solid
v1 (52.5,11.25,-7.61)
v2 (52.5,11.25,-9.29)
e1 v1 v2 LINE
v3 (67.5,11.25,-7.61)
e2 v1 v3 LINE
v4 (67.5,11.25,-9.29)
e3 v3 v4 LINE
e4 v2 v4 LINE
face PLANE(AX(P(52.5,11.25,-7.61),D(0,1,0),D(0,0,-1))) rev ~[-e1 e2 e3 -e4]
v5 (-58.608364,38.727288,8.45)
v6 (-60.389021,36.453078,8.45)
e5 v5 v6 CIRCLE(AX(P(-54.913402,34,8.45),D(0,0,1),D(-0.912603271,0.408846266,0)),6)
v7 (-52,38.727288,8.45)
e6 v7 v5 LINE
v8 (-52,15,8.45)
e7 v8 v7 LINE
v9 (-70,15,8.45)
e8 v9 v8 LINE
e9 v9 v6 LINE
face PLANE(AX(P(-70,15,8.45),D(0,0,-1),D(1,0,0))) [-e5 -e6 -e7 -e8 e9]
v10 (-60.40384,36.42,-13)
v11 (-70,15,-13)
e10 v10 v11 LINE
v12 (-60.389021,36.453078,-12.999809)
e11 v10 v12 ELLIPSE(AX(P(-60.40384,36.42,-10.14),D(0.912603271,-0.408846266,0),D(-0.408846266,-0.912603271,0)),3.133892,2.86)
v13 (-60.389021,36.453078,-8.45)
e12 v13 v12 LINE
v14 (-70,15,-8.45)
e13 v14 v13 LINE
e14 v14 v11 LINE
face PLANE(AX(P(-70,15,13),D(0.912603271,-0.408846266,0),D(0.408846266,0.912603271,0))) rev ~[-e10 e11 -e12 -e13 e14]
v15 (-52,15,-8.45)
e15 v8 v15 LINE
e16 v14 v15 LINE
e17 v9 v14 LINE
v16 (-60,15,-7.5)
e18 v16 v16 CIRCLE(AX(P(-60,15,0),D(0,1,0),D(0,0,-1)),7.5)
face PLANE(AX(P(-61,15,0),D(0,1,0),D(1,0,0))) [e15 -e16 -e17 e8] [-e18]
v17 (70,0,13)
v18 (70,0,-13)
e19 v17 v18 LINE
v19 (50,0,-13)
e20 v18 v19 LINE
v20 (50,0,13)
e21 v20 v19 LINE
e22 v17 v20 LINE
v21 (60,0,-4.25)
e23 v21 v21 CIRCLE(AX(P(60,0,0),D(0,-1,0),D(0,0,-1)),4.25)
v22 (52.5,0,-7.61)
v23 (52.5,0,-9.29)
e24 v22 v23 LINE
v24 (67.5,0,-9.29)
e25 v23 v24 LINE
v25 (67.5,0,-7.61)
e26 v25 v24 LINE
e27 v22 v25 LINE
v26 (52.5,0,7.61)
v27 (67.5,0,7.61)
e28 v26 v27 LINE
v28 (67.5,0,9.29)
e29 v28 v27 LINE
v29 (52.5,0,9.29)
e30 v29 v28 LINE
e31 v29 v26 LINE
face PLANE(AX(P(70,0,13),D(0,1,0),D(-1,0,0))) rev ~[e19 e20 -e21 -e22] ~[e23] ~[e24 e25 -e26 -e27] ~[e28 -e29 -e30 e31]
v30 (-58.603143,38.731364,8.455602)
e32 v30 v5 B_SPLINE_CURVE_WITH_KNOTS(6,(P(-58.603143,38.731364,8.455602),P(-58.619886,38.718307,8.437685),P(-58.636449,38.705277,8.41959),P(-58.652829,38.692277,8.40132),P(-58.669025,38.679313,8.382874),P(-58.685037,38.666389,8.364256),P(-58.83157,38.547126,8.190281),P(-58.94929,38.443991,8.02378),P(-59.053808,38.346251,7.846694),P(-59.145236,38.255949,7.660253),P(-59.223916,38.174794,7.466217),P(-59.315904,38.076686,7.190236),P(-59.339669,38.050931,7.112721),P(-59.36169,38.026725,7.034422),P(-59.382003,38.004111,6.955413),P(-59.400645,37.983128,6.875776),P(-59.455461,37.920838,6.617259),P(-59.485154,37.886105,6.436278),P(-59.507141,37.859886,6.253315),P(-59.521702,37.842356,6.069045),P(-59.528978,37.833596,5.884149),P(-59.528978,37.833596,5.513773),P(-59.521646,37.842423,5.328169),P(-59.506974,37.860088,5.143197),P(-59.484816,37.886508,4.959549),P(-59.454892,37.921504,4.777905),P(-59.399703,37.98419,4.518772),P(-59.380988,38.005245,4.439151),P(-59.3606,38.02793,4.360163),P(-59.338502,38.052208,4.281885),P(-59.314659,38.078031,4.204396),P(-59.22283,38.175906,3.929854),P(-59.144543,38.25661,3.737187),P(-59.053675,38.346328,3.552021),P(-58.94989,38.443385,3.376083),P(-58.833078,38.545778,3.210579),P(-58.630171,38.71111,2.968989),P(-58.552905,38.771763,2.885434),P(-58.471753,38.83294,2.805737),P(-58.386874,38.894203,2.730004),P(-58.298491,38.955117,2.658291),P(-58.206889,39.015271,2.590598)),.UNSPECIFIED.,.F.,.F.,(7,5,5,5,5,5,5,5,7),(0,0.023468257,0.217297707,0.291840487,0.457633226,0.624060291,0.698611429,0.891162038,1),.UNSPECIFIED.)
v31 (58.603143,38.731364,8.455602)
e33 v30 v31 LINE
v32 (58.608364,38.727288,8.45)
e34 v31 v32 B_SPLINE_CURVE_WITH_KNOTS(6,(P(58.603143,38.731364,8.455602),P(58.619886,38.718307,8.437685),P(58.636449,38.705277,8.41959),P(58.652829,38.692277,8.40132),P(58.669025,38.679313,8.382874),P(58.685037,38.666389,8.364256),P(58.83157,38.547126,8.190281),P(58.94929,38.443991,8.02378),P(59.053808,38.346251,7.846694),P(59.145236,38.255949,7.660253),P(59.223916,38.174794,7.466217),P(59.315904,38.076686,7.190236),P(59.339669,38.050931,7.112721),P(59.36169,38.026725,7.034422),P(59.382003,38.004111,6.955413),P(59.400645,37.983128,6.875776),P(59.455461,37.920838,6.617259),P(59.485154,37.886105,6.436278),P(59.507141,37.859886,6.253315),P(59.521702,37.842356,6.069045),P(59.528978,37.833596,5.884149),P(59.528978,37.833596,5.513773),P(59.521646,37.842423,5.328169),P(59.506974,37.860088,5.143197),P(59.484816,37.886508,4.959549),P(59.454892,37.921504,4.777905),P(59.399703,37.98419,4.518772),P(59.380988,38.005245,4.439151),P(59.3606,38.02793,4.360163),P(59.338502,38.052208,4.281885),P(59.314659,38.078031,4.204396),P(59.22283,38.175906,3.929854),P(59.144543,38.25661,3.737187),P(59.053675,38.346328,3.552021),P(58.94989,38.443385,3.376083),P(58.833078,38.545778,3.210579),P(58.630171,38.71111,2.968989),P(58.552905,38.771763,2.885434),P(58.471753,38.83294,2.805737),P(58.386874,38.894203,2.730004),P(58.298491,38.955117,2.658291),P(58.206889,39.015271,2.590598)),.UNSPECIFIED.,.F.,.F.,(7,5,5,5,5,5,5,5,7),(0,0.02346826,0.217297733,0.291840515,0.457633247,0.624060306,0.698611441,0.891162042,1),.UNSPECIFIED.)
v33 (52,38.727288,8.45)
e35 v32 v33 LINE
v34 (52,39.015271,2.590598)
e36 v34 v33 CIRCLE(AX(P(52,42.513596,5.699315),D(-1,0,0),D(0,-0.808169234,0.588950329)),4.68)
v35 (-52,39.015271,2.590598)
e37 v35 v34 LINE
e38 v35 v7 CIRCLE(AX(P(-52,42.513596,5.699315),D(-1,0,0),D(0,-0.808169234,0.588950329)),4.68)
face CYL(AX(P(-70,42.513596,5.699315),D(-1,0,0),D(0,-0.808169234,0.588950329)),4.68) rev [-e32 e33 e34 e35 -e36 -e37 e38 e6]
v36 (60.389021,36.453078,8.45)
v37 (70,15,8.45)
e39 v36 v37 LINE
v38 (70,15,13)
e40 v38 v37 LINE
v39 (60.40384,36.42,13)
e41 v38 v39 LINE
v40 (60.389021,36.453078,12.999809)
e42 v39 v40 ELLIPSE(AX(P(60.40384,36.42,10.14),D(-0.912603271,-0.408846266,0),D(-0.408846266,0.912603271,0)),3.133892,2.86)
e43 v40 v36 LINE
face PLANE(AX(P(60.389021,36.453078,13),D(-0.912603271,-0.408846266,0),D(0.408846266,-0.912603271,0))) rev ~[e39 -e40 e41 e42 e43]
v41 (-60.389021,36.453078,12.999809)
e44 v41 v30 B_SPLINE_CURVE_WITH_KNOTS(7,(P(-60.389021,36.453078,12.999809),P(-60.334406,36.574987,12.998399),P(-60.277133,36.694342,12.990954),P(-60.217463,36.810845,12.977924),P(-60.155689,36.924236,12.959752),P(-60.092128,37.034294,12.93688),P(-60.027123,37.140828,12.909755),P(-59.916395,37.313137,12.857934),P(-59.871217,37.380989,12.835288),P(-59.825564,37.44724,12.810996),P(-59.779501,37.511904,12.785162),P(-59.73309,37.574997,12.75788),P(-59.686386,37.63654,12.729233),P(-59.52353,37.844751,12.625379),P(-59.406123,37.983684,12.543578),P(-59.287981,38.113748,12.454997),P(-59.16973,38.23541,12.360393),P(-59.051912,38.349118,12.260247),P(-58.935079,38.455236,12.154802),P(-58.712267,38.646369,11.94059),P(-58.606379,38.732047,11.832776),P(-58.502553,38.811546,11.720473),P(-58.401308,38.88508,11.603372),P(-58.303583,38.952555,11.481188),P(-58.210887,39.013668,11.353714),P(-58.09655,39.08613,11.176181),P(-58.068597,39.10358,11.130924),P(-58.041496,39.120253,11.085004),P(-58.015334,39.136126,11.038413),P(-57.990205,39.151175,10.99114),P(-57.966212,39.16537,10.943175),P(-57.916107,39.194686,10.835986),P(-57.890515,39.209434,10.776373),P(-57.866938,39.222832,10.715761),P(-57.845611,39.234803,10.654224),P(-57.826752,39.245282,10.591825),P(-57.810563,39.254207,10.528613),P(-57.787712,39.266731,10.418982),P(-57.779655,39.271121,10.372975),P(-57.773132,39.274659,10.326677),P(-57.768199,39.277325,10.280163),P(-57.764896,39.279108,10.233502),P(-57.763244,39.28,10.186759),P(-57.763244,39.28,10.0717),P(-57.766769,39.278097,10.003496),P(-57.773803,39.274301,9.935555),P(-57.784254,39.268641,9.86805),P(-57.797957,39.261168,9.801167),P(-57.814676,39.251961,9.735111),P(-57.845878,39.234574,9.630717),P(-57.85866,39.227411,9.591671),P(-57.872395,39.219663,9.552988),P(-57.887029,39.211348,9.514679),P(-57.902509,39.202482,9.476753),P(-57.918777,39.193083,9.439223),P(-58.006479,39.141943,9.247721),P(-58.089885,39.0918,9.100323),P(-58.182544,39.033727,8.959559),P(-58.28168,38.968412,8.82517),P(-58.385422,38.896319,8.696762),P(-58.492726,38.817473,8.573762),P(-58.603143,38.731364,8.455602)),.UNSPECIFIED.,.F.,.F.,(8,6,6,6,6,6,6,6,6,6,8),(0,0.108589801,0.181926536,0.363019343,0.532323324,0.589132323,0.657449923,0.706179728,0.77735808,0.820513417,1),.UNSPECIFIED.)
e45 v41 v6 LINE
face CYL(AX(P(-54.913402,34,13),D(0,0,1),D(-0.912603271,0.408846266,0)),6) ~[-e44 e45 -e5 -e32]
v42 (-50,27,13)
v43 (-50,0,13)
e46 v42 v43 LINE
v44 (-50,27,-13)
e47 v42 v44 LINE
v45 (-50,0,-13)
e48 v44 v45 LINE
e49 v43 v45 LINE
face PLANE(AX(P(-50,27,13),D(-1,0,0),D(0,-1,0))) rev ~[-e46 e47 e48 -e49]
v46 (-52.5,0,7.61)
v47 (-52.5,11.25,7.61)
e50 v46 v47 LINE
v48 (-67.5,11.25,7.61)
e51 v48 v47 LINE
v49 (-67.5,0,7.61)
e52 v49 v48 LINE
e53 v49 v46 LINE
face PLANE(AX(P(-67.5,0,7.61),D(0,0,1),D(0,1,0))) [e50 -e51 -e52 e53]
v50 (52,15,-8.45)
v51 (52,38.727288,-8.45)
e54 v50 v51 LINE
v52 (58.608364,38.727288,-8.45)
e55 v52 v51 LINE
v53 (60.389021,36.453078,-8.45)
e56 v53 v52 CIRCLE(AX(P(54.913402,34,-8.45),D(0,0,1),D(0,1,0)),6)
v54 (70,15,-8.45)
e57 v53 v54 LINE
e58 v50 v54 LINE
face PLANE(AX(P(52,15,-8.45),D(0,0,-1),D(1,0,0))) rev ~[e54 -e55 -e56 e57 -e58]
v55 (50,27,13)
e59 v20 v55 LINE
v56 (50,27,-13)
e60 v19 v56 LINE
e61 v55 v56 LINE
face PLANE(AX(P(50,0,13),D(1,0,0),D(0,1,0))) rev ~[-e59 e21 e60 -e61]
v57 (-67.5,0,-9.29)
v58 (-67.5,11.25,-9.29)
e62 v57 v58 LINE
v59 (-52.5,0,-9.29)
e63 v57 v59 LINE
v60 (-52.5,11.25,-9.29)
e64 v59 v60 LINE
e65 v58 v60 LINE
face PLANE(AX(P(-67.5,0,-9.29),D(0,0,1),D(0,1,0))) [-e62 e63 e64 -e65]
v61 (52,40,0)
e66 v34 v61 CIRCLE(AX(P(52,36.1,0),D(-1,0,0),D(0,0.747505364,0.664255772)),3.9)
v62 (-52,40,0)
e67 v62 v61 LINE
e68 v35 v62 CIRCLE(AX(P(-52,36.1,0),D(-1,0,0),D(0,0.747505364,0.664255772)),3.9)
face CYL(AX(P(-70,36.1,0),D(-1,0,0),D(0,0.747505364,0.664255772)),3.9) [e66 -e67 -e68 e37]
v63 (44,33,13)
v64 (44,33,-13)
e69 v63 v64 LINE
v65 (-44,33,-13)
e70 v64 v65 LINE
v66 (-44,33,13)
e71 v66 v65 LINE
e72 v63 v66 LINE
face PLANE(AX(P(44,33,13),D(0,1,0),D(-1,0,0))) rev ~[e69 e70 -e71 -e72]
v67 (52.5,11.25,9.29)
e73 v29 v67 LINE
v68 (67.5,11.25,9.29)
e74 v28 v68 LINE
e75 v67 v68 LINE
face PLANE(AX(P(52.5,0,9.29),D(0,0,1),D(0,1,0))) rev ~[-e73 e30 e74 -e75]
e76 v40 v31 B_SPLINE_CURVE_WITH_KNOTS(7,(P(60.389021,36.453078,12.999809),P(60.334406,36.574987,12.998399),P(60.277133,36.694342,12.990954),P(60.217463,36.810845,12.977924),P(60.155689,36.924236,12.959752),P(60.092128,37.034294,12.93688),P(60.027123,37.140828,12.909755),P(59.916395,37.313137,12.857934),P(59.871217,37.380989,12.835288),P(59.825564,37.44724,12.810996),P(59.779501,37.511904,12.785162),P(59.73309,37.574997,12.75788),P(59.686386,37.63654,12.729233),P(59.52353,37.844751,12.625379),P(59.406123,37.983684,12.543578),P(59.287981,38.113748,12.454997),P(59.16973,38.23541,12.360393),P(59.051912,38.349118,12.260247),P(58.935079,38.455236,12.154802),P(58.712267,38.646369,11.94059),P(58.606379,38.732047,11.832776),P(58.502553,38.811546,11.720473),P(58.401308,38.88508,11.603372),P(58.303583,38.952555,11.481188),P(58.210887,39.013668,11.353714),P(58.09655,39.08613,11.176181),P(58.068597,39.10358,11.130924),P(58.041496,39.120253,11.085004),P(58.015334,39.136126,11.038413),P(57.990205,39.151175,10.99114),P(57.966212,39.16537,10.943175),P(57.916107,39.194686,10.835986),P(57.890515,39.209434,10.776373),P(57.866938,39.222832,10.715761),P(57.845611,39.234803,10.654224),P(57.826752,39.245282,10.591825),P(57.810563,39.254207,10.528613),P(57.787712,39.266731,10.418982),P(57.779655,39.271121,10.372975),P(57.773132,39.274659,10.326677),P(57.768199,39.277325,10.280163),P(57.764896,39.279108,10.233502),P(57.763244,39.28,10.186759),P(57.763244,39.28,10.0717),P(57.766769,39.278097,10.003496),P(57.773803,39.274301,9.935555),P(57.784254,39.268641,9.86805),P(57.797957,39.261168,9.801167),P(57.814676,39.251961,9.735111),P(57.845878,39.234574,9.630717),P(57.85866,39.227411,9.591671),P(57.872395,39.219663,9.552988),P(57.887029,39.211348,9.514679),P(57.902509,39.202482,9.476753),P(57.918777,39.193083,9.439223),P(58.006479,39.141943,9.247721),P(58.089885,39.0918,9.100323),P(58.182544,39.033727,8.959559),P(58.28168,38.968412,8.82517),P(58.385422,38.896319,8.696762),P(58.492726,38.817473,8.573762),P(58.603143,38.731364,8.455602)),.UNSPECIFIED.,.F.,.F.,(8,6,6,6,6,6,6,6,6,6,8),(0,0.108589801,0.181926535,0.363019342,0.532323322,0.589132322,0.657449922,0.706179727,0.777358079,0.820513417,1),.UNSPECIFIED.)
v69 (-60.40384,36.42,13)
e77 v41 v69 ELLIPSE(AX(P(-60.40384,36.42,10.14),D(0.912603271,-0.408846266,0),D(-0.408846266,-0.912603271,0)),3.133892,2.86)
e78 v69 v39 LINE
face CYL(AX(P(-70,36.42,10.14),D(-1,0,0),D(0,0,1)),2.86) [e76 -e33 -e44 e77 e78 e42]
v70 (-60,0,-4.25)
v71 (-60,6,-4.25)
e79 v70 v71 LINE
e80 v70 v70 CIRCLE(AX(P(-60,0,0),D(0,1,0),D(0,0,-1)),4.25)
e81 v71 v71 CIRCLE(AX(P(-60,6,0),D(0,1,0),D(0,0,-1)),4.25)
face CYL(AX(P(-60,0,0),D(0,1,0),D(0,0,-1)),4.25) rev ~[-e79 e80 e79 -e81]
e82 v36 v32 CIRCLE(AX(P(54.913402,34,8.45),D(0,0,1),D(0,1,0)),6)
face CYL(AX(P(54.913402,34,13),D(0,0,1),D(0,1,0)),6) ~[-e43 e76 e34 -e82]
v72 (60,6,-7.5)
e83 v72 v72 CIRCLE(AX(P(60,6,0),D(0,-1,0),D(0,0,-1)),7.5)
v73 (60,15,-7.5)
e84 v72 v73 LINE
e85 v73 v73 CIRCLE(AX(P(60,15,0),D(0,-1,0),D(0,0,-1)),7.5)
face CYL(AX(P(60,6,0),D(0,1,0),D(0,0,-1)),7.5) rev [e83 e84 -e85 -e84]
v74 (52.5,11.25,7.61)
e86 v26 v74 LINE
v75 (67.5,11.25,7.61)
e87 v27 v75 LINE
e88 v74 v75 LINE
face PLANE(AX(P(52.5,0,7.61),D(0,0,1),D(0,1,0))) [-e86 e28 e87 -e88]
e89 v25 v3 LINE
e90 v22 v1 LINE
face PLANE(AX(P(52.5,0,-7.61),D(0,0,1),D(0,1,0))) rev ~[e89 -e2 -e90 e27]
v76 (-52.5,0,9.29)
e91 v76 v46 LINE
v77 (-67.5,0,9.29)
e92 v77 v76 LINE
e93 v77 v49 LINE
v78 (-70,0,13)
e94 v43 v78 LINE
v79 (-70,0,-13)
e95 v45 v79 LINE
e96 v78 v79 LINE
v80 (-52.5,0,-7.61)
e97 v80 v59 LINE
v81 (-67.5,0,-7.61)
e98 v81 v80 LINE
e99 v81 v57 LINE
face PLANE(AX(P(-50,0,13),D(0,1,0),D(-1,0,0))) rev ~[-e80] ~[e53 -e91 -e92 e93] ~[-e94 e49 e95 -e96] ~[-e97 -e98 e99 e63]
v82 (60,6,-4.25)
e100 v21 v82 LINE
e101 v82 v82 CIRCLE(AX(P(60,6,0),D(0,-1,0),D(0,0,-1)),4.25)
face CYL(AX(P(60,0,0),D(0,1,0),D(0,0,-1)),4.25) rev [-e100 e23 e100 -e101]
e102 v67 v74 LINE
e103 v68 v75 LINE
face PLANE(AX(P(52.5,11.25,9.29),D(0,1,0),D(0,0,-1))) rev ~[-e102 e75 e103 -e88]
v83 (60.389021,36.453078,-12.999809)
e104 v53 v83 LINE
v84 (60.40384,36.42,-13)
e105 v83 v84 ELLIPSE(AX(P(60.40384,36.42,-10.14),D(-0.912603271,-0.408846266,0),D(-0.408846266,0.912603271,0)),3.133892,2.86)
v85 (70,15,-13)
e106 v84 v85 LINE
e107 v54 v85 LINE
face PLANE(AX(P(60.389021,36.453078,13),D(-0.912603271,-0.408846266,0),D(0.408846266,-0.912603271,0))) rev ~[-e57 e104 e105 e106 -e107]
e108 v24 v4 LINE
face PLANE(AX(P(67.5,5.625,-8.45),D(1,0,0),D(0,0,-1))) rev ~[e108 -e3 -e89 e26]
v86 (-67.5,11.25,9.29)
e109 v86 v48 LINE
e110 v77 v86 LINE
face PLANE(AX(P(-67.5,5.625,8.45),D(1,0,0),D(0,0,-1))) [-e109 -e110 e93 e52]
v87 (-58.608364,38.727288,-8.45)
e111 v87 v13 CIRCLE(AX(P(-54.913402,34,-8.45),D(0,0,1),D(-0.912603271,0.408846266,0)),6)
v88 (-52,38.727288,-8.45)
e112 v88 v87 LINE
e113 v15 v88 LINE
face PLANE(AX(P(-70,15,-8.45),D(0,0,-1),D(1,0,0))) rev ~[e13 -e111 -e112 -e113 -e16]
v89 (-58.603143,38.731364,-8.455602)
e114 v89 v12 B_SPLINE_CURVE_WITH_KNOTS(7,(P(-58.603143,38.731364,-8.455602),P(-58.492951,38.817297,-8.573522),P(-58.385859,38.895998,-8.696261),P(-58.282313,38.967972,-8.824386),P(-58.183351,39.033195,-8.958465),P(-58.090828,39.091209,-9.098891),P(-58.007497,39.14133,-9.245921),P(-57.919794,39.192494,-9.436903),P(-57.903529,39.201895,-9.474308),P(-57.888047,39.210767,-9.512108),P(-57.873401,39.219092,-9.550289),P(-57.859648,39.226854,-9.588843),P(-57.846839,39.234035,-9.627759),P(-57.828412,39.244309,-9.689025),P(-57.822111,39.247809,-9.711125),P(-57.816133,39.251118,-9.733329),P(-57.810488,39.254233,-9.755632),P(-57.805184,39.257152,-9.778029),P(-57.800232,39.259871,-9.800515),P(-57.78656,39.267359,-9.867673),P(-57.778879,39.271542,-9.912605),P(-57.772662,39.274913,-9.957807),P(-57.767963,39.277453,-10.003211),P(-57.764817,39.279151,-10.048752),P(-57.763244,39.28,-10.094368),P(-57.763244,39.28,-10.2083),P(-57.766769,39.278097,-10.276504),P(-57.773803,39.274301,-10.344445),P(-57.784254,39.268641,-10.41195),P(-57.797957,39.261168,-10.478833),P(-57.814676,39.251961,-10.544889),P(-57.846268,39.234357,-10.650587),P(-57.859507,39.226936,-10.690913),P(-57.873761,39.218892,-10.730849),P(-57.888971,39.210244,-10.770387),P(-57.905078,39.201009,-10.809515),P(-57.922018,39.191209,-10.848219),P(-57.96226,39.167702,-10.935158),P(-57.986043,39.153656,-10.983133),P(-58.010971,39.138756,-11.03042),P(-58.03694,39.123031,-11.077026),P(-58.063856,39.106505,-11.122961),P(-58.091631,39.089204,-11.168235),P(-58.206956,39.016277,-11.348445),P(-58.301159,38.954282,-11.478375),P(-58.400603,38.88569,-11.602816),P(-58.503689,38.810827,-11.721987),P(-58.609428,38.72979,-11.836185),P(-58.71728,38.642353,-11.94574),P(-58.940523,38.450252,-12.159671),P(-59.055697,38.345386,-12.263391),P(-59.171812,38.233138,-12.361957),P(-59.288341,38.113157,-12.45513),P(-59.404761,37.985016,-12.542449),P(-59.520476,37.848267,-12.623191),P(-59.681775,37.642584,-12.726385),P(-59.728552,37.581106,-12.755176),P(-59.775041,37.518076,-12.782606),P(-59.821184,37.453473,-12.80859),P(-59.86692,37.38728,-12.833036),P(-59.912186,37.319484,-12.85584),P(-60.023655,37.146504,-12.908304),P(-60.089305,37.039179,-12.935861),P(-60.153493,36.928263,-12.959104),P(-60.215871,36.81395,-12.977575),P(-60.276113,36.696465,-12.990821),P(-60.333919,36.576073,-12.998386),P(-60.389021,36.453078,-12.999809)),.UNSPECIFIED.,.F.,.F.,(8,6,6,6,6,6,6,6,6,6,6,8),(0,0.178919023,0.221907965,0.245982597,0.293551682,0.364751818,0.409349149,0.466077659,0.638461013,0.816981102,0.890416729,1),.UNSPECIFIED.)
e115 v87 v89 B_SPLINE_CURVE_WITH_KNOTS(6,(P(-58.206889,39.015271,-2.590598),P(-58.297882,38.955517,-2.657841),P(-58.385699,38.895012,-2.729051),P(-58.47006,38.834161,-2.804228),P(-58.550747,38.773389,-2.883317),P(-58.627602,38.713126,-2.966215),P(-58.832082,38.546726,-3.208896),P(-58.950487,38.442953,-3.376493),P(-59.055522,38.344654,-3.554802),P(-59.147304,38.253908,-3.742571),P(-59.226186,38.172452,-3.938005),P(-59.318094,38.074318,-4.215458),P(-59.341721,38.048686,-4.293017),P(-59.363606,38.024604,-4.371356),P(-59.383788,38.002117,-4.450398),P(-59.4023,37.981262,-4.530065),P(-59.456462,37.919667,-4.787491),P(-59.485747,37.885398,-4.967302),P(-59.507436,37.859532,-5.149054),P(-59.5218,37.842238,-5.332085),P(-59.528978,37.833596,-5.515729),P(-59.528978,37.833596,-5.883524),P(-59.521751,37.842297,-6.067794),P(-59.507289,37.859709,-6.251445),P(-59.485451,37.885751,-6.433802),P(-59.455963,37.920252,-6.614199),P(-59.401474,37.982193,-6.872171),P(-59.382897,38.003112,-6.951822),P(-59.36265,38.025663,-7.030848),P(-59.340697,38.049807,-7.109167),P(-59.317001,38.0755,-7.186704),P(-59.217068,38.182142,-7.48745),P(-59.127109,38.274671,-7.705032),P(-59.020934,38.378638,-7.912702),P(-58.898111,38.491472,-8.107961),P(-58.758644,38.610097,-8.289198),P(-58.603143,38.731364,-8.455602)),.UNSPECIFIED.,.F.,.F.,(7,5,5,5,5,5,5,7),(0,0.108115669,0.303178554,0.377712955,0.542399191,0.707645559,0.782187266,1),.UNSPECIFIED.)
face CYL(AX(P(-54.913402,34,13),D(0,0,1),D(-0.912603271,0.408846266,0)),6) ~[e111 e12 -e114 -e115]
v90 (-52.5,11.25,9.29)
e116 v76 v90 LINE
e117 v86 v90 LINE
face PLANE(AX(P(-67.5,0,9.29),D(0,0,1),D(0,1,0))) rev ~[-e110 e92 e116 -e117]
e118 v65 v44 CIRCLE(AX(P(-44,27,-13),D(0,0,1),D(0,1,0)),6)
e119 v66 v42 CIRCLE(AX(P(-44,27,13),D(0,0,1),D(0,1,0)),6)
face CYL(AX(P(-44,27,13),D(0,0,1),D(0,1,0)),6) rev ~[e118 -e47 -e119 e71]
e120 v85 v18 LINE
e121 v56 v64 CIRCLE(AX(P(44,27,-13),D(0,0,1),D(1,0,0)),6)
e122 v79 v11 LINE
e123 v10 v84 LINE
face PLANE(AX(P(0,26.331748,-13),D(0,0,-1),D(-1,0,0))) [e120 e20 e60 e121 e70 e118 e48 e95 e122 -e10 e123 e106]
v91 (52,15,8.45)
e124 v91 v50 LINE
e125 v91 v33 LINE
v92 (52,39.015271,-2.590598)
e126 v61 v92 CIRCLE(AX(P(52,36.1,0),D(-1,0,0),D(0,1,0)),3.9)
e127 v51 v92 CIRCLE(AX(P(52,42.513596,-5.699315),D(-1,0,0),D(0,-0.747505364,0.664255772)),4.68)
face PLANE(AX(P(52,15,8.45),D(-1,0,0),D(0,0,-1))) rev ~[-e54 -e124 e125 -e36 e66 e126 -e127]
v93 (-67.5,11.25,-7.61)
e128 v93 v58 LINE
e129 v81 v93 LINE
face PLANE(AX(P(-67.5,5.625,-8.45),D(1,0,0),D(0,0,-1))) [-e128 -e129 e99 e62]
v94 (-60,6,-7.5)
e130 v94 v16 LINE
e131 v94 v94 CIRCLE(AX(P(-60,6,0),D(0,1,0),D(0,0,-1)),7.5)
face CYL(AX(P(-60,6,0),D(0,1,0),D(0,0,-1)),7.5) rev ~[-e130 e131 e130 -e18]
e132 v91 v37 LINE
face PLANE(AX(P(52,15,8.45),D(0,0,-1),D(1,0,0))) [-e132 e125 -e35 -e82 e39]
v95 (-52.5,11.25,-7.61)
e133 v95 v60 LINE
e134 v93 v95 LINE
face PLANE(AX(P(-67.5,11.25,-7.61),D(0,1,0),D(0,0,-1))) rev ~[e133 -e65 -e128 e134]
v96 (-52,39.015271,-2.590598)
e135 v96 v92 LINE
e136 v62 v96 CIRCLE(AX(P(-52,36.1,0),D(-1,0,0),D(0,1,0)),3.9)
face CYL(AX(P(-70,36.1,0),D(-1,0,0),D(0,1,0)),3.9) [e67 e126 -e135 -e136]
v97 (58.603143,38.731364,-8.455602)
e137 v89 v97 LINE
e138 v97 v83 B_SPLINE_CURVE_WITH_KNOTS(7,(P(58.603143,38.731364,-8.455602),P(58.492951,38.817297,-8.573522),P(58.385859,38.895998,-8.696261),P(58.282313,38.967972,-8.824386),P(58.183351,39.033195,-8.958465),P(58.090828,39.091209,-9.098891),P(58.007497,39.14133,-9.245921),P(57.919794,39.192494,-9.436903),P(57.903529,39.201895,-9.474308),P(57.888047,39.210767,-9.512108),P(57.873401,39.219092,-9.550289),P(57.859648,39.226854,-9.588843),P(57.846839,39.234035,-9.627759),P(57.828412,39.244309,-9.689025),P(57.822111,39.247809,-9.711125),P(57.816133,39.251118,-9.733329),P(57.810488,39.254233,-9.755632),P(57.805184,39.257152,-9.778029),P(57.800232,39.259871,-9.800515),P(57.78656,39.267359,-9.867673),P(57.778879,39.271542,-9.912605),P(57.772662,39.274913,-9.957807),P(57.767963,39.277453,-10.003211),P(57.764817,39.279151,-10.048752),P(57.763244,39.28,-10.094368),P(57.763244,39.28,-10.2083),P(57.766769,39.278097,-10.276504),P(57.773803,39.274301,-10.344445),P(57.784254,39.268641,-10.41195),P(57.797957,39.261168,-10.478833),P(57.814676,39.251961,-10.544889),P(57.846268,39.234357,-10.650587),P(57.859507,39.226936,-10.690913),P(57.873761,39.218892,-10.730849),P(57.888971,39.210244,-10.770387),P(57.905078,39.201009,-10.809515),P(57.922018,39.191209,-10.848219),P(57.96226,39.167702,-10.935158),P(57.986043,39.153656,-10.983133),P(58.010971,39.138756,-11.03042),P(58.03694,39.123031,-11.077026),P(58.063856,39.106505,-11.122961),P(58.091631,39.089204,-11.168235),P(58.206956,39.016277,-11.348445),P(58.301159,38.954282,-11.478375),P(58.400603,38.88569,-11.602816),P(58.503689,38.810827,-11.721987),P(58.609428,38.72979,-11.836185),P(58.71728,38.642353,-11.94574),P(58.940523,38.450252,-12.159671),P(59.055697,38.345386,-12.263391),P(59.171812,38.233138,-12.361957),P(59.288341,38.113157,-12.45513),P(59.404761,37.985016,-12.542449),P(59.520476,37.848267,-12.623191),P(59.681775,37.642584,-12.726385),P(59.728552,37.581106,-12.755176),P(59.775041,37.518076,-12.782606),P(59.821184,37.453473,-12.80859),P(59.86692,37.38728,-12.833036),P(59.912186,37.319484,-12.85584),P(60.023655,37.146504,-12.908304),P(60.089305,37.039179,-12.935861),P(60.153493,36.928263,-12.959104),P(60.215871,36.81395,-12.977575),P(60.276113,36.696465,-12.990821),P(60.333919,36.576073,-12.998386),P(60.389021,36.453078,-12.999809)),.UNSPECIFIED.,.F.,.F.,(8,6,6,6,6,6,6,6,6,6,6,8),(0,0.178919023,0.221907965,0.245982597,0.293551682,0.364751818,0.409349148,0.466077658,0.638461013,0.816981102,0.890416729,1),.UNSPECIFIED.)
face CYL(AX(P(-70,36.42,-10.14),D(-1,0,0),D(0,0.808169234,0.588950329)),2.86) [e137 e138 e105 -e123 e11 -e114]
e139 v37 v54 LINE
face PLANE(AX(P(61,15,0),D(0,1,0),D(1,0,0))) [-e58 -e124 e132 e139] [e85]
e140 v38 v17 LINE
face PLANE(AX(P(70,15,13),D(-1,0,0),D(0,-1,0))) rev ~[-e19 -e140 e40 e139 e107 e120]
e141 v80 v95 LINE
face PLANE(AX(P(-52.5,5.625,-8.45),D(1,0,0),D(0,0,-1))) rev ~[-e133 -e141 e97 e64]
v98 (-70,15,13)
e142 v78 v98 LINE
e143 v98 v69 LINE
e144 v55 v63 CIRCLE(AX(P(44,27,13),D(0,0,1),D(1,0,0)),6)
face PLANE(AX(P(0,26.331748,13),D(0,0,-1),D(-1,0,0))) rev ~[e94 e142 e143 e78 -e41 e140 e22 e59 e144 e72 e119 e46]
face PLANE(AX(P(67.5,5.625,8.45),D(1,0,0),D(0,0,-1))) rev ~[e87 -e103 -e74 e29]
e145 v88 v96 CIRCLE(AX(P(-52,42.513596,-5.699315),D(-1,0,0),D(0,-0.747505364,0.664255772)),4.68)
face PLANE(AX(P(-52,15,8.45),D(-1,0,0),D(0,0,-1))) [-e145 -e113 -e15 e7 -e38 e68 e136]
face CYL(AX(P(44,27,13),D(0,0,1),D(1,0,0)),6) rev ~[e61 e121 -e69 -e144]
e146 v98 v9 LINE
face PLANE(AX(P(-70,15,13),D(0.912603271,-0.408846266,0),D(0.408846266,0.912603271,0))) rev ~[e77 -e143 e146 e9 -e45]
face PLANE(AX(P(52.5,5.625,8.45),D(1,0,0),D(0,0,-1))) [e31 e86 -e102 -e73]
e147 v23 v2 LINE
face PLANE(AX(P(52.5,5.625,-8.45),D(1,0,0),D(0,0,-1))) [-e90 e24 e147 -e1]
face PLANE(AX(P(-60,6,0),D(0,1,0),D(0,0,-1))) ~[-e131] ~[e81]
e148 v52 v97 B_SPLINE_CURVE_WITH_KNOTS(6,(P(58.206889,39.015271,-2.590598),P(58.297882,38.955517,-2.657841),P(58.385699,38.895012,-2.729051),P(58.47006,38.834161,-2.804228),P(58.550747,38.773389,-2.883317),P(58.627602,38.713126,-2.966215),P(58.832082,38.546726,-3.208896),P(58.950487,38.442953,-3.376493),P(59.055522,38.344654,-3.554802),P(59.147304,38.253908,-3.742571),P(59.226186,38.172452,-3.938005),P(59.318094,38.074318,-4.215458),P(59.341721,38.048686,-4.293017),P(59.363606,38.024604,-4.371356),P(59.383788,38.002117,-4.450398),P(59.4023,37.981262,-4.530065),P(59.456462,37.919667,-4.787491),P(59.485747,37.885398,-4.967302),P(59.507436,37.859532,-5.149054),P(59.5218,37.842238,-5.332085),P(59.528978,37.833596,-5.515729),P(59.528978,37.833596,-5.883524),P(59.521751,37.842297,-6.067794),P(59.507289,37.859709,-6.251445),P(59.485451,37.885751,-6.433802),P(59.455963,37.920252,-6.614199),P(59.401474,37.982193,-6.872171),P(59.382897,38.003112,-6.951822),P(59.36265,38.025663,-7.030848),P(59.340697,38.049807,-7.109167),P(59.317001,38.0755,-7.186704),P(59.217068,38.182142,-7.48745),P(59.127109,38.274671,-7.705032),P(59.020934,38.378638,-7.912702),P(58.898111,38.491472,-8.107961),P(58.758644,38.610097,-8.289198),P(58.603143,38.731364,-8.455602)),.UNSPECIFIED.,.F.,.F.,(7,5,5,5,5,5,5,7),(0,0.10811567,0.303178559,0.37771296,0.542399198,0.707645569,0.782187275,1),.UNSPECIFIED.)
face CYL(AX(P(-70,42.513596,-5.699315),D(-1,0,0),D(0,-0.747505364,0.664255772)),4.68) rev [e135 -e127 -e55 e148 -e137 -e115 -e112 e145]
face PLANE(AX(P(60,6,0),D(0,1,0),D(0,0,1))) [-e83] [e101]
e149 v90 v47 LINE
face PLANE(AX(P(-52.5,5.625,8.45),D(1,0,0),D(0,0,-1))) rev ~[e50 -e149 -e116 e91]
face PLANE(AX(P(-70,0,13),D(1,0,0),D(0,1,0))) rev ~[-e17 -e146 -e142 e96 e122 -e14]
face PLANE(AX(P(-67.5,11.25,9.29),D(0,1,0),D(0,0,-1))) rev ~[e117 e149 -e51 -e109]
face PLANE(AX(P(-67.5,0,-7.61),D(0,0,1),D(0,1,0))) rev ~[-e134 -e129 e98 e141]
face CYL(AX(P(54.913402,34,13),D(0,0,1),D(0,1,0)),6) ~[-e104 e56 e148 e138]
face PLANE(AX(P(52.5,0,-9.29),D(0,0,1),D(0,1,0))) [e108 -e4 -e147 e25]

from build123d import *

# Parameters (mm, degrees)
EXTRUDE_START            = 13
EXTRUDE_1_DEPTH          = 26
CUT_EXTRUDE_1_DEPTH      = 70
CUT_EXTRUDE_1_DEPTH_BACK = 70
CUT_EXTRUDE_START        = 15
SKETCH_5_W               = 18
SKETCH_5_H               = 16.9
CUT_EXTRUDE_2_DEPTH      = 25
CUT_EXTRUDE_START_2      = 52.5
SKETCH_7_W               = 1.68
SKETCH_7_H               = 11.25
CUT_EXTRUDE_3_DEPTH      = 15
CUT_EXTRUDE_START_3      = -67.5
SKETCH_7_2_W             = 1.68
SKETCH_7_2_H             = 11.25
CUT_EXTRUDE_4_DEPTH      = 15


with BuildPart() as part:
    # 草图3 → 凸台-拉伸1 (new body)
    with BuildSketch(Plane.XY.offset(EXTRUDE_START)):
        with BuildLine():
            Line((-70, 15), (-60.389021238, 36.453077594))
            ThreePointArc((-60.389021238, 36.453077594), (-58.175420496, 39.035795149), (-54.913401609, 40))
            Line((-54.913401609, 40), (54.913401609, 40))
            ThreePointArc((54.913401609, 40), (58.175420496, 39.035795149), (60.389021238, 36.453077594))
            Line((60.389021238, 36.453077594), (70, 15))
            Line((70, 15), (70, 0))
            Line((70, 0), (50, 0))
            Line((50, 0), (50, 27))
            ThreePointArc((50, 27), (48.242640687, 31.242640687), (44, 33))
            Line((44, 33), (-44, 33))
            ThreePointArc((-44, 33), (-48.242640687, 31.242640687), (-50, 27))
            Line((-50, 27), (-50, 0))
            Line((-50, 0), (-70, 0))
            Line((-70, 0), (-70, 15))
        make_face()
    extrude(amount=-EXTRUDE_1_DEPTH)

    # 草图4 → 切除-拉伸1 (cut, two sides: drawn at the far end of the back side and taken through both)
    with BuildSketch(Plane(origin=(0, 0, 0), x_dir=(0, 0, -1), z_dir=(1, 0, 0)).offset(-CUT_EXTRUDE_1_DEPTH_BACK)):
        with BuildLine():
            Line((13, 36.42), (13, 33))
            Line((13, 33), (14, 33))
            Line((14, 33), (14, 41))
            Line((14, 41), (0, 41))
            Line((0, 41), (0, 40))
            ThreePointArc((0, 40), (1.385720645, 39.745514819), (2.590597511, 39.01527092))
            ThreePointArc((2.590597511, 39.01527092), (5.473035012, 37.839069568), (8.455602061, 38.731364009))
            ThreePointArc((8.455602061, 38.731364009), (11.436576626, 38.969213419), (13, 36.42))
        make_face()
        with BuildLine():
            Line((-14, 33), (-13, 33))
            Line((-13, 33), (-13, 36.42))
            ThreePointArc((-13, 36.42), (-11.436576626, 38.969213419), (-8.455602061, 38.731364009))
            ThreePointArc((-8.455602061, 38.731364009), (-5.473035012, 37.839069568), (-2.590597511, 39.01527092))
            ThreePointArc((-2.590597511, 39.01527092), (-1.385720645, 39.745514819), (0, 40))
            Line((0, 40), (0, 41))
            Line((0, 41), (-14, 41))
            Line((-14, 41), (-14, 33))
        make_face()
    extrude(amount=CUT_EXTRUDE_1_DEPTH + CUT_EXTRUDE_1_DEPTH_BACK, mode=Mode.SUBTRACT)

    # 草图5 → 切除-拉伸2 (cut)
    with BuildSketch(Plane(origin=(0, 0, 0), x_dir=(1, 0, 0), z_dir=(0, 1, 0)).offset(CUT_EXTRUDE_START)):
        with Locations((-61, 0)):
            Rectangle(SKETCH_5_W, SKETCH_5_H)
        with Locations((61, 0)):
            Rectangle(SKETCH_5_W, SKETCH_5_H)
    extrude(amount=CUT_EXTRUDE_2_DEPTH, mode=Mode.SUBTRACT)

    # 草图6 → 切除-旋转1 (revolve, cut)
    with BuildSketch(Plane.XY, mode=Mode.PRIVATE) as cut_revolve_1_sk:
        Polygon((-64.25, 0), (-64.25, 6), (-67.5, 6), (-67.5, 15), (-60, 15), (-60, 0), align=None)
    cut_revolve_1 = revolve(cut_revolve_1_sk.sketch.rotate(Axis((-60, 0, 0), (0, 1, 0)), 270), axis=Axis((-60, 0, 0), (0, 1, 0)), mode=Mode.SUBTRACT)

    # 镜向1: 切除-旋转1 across plane
    add(cut_revolve_1.mirror(Plane(origin=(0, 0, 0), x_dir=(0, 0, 1), z_dir=(1, 0, 0))), mode=Mode.SUBTRACT)

    # 草图7 → 切除-拉伸3 (cut)
    with BuildSketch(Plane(origin=(0, 0, 0), x_dir=(0, 0, -1), z_dir=(1, 0, 0)).offset(CUT_EXTRUDE_START_2)):
        with Locations((8.45, 5.625)):
            Rectangle(SKETCH_7_W, SKETCH_7_H)
        with Locations((-8.45, 5.625)):
            Rectangle(SKETCH_7_W, SKETCH_7_H)
    extrude(amount=CUT_EXTRUDE_3_DEPTH, mode=Mode.SUBTRACT)

    # 草图7<2> → 切除-拉伸4 (cut)
    with BuildSketch(Plane(origin=(0, 0, 0), x_dir=(0, 0, -1), z_dir=(1, 0, 0)).offset(CUT_EXTRUDE_START_3)):
        with Locations((8.45, 5.625)):
            Rectangle(SKETCH_7_2_W, SKETCH_7_2_H)
        with Locations((-8.45, 5.625)):
            Rectangle(SKETCH_7_2_W, SKETCH_7_2_H)
    extrude(amount=CUT_EXTRUDE_4_DEPTH, mode=Mode.SUBTRACT)


solid = part.part
